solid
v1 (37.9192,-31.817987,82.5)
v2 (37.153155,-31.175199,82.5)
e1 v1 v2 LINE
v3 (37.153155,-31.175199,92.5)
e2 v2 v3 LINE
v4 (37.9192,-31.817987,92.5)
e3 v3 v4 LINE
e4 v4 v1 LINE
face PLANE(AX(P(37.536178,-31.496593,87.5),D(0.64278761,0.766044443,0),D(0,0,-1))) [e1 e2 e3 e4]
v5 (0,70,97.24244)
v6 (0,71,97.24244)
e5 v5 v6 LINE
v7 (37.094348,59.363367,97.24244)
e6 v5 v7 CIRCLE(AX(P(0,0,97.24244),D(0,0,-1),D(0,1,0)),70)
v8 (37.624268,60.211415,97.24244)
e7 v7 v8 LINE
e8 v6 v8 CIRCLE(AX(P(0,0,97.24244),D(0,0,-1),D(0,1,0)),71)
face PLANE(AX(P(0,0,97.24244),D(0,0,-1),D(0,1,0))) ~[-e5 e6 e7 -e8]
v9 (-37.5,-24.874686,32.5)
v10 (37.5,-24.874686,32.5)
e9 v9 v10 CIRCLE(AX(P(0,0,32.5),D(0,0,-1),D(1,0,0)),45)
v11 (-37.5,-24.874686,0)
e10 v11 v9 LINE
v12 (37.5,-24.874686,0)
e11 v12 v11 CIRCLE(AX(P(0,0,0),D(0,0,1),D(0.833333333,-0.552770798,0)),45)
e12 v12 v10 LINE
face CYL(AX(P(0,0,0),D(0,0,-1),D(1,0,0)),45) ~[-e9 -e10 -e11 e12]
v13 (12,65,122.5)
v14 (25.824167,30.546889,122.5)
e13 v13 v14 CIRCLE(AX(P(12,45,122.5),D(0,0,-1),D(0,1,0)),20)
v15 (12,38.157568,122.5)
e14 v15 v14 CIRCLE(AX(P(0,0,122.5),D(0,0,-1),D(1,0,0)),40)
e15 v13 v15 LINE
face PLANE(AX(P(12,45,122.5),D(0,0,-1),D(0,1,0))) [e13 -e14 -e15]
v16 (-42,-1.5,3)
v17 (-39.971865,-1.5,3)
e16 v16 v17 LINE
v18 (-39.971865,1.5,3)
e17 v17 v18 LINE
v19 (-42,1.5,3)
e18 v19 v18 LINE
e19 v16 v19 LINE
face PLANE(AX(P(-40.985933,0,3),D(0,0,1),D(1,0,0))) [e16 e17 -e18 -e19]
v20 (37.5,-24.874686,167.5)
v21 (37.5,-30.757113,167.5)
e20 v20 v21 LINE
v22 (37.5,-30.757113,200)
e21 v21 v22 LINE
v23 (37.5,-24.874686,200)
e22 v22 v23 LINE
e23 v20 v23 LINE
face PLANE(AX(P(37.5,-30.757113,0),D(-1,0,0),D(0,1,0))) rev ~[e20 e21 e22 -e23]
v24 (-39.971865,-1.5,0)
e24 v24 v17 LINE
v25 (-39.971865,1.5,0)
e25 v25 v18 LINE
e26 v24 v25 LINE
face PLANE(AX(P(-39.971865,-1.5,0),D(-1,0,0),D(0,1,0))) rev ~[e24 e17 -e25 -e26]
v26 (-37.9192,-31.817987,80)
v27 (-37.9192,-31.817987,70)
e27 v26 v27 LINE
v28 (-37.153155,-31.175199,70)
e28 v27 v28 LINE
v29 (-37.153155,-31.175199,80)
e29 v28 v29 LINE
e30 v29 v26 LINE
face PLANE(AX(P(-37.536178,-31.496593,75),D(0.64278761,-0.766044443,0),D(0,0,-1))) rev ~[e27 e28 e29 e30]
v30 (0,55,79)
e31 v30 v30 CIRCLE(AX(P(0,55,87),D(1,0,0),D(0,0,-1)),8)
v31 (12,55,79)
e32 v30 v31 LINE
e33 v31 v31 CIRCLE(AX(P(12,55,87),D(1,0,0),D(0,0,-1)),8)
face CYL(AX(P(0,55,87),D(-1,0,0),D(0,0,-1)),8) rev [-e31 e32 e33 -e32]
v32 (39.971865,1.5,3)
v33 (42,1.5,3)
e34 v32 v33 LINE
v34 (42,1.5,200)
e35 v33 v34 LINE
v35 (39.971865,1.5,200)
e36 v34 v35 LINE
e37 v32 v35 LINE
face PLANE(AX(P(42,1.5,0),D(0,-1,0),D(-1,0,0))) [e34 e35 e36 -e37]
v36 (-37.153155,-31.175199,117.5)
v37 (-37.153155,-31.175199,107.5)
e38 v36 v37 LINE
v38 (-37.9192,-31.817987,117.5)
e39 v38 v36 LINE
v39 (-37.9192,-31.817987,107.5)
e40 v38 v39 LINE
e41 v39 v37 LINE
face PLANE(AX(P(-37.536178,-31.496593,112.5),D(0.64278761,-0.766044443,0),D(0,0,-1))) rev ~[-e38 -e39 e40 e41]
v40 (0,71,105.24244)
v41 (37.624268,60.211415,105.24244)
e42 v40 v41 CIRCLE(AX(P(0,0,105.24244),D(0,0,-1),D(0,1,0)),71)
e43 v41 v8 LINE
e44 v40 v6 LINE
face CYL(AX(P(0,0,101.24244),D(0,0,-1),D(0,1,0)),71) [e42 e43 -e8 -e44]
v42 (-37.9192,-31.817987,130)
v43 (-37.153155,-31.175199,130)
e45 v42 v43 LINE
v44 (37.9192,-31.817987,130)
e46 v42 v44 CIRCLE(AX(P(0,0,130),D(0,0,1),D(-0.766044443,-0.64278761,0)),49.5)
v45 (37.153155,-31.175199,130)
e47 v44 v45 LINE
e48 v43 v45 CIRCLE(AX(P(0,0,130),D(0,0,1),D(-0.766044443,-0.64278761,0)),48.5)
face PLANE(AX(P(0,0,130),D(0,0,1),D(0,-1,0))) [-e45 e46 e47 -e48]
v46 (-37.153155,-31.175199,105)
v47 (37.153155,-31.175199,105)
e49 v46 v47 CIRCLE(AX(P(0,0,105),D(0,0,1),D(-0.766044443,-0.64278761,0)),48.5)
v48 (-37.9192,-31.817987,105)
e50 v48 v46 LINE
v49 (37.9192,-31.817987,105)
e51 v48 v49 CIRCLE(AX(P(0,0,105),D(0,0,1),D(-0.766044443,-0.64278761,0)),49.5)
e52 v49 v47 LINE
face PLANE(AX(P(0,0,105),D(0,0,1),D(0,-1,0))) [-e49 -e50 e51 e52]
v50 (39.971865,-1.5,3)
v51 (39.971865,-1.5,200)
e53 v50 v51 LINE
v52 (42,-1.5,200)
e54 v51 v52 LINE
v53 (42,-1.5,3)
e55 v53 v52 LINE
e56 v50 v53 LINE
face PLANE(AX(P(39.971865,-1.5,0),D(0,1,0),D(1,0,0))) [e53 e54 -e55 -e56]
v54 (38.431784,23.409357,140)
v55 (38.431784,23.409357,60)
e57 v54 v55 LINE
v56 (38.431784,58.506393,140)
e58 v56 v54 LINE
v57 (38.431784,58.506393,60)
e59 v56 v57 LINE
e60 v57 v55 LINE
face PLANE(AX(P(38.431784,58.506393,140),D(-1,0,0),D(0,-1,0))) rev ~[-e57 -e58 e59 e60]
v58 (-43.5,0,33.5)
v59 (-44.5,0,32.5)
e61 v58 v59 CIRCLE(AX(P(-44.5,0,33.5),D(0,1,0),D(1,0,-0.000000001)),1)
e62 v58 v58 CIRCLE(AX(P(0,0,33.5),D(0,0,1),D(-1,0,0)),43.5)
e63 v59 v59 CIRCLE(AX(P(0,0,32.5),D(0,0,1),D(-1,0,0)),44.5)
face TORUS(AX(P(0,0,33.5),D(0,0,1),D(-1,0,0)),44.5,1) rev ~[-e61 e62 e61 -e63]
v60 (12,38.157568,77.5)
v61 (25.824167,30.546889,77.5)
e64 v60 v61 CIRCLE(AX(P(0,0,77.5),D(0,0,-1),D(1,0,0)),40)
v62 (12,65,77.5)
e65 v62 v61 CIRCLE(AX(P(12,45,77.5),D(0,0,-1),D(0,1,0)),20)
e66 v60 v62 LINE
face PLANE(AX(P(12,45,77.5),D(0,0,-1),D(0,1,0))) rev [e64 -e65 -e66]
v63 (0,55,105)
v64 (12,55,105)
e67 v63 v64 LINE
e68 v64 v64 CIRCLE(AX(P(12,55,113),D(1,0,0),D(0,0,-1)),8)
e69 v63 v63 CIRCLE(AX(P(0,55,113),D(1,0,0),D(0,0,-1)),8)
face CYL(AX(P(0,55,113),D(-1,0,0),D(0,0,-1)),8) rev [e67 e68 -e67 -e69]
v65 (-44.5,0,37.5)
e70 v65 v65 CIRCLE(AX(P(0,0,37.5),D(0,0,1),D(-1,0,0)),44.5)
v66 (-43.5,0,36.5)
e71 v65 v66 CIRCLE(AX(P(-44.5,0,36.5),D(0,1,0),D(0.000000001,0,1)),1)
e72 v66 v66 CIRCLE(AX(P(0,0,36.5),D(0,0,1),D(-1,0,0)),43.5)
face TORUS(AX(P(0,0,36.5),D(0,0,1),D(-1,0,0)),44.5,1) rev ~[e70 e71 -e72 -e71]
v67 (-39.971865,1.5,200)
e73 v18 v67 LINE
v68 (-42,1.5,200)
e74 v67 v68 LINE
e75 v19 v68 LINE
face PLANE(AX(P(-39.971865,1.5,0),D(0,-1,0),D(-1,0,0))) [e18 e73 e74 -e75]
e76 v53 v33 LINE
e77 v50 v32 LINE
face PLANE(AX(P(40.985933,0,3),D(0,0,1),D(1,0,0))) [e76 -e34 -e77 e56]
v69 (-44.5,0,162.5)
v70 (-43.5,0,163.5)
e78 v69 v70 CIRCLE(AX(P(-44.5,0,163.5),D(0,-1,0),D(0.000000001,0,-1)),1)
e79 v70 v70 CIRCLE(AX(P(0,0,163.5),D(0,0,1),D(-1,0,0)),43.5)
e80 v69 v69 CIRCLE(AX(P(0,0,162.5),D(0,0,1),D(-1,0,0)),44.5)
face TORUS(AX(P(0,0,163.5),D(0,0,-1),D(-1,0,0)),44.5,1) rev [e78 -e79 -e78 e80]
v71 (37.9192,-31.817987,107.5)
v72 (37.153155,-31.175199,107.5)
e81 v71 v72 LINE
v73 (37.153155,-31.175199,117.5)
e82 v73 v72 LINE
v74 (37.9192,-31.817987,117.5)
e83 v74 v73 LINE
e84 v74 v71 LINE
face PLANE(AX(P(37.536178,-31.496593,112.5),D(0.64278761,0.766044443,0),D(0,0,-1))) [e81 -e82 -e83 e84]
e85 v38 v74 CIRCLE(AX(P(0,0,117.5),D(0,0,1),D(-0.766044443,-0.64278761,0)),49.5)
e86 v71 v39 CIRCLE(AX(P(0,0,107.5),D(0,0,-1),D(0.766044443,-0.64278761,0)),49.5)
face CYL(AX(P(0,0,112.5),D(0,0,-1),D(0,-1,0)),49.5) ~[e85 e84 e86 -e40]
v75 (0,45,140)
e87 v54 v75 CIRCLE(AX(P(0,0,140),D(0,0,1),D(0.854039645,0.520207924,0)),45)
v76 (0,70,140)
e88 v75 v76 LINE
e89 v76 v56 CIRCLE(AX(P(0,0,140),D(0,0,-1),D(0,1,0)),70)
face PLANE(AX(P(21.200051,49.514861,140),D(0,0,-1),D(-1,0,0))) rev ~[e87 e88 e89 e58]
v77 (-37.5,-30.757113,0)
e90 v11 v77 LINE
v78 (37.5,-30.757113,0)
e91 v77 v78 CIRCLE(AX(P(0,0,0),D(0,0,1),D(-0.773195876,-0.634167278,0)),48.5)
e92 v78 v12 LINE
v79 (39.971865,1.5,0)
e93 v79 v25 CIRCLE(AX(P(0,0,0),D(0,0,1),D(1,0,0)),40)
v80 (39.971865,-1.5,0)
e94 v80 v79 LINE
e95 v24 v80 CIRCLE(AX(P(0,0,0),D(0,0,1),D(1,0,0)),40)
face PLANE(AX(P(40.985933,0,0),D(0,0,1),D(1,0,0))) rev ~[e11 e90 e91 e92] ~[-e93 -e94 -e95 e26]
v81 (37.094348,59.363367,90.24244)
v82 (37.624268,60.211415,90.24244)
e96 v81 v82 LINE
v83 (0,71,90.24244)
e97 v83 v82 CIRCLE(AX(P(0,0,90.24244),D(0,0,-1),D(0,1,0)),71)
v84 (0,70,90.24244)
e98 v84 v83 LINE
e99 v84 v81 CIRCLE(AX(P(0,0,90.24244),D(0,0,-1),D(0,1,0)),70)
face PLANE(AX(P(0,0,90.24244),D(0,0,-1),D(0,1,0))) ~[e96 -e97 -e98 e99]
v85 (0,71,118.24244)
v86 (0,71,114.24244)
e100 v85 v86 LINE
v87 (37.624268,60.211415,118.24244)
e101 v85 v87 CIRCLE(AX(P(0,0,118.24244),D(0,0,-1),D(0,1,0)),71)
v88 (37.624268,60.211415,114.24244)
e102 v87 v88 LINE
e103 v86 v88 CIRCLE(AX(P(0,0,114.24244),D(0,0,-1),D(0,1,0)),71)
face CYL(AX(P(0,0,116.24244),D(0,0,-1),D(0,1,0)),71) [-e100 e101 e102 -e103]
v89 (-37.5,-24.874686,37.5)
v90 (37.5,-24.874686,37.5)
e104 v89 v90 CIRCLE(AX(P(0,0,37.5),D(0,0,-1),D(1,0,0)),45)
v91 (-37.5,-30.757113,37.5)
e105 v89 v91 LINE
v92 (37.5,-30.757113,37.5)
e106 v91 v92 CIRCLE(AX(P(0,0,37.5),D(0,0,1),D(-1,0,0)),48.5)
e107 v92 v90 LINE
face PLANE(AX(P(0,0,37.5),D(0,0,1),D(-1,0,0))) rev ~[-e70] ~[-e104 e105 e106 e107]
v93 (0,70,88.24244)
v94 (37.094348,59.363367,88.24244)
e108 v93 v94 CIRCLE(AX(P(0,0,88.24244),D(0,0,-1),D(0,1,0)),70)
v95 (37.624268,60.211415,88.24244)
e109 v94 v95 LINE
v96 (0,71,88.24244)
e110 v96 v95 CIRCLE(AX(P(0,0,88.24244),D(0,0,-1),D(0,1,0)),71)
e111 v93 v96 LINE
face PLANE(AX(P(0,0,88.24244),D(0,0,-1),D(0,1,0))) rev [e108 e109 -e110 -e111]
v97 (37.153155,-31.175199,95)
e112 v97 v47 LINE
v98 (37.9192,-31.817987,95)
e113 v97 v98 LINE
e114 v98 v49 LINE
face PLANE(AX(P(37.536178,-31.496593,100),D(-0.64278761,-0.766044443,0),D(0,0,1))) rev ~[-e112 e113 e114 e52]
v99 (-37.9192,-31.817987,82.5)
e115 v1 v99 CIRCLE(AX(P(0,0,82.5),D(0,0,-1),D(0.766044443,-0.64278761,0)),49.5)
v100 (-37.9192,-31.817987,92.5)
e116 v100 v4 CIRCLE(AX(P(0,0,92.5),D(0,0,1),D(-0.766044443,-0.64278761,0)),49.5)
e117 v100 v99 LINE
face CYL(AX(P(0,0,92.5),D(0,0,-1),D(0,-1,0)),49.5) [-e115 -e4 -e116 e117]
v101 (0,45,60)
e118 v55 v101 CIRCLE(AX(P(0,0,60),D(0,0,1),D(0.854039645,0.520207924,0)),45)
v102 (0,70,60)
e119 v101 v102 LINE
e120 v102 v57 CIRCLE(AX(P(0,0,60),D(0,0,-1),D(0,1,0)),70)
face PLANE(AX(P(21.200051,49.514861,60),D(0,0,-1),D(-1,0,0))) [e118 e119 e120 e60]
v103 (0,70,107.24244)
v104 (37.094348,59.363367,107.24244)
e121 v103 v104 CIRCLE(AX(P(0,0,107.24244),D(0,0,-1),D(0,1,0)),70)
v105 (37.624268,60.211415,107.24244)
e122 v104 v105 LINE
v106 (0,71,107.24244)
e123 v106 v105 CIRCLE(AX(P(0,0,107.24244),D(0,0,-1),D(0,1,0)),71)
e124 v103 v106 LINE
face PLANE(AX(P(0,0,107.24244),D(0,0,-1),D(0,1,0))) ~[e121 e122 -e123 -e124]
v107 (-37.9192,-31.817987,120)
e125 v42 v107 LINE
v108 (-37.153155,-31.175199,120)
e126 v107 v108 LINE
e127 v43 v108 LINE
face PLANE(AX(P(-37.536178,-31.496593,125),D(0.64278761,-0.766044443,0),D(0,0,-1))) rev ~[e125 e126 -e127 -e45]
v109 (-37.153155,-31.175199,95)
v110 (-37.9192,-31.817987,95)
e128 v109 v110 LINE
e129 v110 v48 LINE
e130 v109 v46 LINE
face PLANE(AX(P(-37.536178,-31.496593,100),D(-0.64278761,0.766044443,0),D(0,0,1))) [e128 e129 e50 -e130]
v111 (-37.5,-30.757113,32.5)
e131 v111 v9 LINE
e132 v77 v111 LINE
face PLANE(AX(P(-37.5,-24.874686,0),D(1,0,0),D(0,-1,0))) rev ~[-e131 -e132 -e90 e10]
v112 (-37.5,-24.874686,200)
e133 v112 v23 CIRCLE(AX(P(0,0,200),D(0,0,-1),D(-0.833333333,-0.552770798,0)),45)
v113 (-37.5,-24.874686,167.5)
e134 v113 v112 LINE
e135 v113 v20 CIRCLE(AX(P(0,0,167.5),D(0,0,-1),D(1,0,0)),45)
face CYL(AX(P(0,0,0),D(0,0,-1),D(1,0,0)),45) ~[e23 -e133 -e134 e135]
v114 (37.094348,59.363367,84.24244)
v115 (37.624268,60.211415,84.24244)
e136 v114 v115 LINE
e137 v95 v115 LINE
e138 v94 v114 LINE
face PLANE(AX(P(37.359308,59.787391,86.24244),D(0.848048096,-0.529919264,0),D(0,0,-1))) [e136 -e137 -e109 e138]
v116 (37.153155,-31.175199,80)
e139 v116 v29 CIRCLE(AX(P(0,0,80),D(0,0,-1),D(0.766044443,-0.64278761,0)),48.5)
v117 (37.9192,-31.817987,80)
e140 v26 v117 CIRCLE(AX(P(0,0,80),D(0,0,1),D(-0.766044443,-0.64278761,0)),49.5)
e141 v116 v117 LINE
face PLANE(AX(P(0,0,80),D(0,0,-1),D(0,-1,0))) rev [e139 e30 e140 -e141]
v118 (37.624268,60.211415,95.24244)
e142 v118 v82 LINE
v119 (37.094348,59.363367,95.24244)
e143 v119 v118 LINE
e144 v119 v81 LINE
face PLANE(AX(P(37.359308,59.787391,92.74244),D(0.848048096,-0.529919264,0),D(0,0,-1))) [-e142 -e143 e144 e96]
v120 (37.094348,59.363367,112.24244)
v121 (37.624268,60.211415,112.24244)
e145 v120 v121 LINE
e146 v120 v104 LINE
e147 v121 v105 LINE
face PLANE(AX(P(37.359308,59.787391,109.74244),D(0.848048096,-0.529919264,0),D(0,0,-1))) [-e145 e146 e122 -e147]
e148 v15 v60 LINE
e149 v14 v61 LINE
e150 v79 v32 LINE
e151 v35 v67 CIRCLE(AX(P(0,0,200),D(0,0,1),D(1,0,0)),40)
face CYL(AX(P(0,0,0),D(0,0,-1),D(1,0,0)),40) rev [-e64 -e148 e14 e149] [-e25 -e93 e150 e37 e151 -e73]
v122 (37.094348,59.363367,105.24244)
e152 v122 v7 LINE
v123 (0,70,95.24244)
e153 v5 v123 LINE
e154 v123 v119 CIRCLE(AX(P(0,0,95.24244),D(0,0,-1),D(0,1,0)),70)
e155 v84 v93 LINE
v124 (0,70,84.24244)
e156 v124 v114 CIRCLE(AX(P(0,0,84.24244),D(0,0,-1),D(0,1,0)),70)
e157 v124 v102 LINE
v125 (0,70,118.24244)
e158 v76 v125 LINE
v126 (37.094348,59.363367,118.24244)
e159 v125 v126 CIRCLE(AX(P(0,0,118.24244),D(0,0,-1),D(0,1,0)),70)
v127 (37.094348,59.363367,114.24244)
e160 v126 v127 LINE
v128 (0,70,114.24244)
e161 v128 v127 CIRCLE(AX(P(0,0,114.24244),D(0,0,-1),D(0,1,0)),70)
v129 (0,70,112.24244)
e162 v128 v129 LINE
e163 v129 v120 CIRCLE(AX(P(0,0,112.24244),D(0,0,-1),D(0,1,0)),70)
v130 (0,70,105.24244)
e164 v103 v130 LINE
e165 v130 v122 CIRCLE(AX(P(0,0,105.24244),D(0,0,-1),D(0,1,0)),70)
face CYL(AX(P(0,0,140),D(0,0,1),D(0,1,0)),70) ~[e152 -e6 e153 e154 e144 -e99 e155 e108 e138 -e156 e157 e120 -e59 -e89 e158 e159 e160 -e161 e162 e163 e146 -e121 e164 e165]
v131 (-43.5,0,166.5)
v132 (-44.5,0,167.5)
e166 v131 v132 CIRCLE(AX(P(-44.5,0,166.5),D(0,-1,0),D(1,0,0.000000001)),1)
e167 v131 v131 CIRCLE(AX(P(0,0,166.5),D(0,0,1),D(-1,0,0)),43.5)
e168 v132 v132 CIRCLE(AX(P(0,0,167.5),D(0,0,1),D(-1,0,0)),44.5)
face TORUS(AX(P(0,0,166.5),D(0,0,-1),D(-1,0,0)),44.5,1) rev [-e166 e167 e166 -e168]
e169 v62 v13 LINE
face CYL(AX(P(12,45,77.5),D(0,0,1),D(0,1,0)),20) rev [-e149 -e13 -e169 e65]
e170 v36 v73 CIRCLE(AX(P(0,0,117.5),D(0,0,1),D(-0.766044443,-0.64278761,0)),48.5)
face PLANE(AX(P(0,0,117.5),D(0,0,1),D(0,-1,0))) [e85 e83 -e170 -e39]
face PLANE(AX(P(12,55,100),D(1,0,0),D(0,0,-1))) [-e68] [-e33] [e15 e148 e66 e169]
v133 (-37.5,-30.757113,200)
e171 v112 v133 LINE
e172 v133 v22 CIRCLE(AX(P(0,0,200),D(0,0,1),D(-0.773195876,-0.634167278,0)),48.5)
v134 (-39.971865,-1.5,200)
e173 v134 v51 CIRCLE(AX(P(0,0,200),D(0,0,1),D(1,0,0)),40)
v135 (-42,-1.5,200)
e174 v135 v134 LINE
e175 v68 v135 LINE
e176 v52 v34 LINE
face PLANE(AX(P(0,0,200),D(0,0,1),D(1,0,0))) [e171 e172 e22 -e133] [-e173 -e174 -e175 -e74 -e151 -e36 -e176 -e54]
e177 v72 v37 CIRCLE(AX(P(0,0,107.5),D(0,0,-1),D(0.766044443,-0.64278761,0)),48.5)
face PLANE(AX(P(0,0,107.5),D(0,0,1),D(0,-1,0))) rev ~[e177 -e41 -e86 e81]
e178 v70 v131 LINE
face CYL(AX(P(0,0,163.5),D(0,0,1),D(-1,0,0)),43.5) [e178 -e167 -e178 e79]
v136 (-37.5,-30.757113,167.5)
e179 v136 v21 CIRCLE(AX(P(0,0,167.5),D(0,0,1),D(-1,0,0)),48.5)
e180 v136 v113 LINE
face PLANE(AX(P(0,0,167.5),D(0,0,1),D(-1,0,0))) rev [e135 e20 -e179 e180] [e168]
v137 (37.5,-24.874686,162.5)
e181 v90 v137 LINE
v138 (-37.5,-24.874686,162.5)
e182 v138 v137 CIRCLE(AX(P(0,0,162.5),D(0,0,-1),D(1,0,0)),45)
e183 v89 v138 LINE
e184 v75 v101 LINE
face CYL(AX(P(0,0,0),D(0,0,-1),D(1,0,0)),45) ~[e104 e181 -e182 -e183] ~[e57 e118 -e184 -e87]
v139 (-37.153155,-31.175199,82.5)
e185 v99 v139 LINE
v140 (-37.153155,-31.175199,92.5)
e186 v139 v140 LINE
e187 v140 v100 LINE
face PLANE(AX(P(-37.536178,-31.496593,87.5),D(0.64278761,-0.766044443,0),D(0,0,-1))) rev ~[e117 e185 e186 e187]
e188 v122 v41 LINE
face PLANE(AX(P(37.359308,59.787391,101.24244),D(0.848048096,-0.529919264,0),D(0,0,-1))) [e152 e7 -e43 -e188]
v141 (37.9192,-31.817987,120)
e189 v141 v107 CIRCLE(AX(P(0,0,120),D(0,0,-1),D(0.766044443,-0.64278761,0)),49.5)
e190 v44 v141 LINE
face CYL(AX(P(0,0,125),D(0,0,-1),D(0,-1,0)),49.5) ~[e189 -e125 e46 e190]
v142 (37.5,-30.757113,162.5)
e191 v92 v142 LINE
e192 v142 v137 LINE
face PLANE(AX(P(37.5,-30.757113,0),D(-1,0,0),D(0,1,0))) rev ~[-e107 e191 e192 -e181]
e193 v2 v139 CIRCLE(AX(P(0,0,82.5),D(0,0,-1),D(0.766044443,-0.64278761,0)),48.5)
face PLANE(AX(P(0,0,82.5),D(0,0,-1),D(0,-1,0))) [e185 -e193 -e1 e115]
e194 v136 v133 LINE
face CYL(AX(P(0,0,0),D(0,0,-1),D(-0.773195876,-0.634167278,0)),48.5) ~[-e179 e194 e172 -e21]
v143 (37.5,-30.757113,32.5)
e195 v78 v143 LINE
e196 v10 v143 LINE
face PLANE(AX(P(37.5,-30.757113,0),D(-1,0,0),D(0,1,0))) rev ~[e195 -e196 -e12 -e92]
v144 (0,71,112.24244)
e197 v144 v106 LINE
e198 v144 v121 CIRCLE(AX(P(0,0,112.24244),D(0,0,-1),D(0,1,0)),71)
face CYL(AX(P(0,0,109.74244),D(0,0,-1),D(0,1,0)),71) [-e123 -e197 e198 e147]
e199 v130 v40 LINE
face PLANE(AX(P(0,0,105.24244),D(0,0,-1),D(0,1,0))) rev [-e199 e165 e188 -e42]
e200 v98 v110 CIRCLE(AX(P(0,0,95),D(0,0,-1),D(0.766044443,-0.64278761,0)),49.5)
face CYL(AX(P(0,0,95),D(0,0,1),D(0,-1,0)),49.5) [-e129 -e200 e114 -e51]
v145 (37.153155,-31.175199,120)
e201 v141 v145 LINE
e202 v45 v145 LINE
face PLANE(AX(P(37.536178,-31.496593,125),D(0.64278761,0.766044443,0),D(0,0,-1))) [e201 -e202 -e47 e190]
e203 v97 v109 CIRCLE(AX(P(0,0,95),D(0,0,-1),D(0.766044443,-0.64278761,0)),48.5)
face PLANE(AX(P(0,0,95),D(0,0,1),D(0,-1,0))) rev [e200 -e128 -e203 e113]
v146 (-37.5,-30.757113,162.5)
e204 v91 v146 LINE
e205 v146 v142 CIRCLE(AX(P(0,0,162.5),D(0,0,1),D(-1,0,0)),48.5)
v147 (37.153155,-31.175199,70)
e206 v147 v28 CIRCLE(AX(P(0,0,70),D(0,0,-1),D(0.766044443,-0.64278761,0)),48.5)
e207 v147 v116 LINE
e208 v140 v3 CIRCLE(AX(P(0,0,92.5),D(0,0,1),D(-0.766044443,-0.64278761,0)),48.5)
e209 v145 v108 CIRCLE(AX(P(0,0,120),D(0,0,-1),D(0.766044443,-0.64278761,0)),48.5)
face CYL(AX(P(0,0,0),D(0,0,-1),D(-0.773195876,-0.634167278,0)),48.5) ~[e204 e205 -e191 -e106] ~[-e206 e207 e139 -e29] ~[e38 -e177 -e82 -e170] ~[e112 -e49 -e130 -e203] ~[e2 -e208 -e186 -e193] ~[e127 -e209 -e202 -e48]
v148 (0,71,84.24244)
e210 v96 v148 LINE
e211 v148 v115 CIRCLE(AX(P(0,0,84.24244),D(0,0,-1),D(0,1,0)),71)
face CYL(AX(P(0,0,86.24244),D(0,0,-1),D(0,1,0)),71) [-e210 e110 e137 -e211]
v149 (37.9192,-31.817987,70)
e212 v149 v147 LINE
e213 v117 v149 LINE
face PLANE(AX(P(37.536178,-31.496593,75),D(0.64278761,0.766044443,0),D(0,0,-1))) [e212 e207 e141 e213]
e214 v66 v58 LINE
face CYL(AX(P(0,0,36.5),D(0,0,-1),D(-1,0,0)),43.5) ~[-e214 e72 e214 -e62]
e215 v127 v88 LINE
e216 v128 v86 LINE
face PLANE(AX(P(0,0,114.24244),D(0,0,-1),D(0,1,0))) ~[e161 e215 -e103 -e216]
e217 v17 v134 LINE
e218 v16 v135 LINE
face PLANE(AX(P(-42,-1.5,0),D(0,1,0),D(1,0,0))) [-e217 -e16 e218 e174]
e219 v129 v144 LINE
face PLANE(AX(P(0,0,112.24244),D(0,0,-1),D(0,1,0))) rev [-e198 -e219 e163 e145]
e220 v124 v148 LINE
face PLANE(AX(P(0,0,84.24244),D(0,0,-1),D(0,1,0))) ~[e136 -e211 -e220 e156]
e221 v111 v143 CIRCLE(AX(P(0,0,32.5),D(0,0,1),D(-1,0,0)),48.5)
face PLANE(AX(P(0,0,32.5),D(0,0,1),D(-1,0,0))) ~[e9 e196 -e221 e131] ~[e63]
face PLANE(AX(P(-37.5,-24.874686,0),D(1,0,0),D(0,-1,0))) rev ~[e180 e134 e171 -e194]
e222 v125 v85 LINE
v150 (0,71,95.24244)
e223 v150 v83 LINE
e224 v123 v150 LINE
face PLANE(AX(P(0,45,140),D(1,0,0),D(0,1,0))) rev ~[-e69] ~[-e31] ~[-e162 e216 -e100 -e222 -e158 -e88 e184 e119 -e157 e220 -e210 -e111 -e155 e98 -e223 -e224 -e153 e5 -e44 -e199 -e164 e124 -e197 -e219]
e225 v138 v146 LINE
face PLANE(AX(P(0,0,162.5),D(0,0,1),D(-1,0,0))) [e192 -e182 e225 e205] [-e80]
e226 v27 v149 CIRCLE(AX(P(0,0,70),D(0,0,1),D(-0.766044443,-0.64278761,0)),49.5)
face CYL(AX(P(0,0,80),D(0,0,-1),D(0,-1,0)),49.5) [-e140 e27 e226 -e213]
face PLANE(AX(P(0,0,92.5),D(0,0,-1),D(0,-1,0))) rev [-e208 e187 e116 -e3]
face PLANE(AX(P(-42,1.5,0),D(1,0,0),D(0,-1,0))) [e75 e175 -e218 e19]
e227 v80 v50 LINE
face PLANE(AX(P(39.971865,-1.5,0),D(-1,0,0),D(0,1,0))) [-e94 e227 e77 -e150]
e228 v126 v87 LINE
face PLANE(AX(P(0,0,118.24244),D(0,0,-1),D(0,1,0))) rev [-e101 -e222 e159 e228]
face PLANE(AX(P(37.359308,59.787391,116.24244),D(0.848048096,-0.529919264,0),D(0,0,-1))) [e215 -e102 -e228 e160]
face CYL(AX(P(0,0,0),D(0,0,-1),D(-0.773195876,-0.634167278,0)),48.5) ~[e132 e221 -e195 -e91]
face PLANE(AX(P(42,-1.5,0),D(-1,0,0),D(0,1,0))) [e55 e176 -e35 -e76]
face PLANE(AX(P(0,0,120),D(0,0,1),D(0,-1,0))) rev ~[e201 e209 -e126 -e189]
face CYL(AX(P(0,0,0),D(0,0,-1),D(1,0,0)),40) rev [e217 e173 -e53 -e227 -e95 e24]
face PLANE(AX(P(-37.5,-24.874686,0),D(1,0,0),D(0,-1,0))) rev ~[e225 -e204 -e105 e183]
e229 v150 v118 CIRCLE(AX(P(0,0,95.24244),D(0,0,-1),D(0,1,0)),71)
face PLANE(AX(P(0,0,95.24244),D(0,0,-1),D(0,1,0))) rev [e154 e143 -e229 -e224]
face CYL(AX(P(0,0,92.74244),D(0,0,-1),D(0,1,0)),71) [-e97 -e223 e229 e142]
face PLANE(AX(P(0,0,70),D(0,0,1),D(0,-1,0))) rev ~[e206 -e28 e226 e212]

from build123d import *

# Parameters (mm, degrees)
ESBO_O1_R                     = 45
RESSALTO_EXTRUS_O1_DEPTH      = 200
ESBO_O2_R                     = 40
CORTE_EXTRUS_O2_DEPTH         = 200
RESSALTO_EXTRUS_O2_DEPTH      = 200
ESBO_O6_W                     = 10
ESBO_O6_H                     = 1
REVOLU_O1_ANGLE               = 50
REVOLU_O1_OTHER_WAY_ANGLE     = 50
RESSALTO_EXTRUS_O6_DEPTH      = 40
RESSALTO_EXTRUS_O6_DEPTH_BACK = 40
CORTE_EXTRUS_O3_DEPTH         = 12
CORTE_REVOLU_O5_ANGLE         = 180
ESBO_O20_W                    = 4
ESBO_O20_H                    = 1
ESBO_O20_W_2                  = 5
ESBO_O20_W_3                  = 8
REVOLU_O3_ANGLE               = 32
ESBO_O21_W                    = 2.028134895
ESBO_O21_H                    = 3
RESSALTO_EXTRUS_O8_DEPTH      = 3


with BuildPart() as part:
    # Esboço1 → Ressalto-extrusão1 (new body)
    with BuildSketch(Plane.XY):
        Circle(ESBO_O1_R)
    extrude(amount=RESSALTO_EXTRUS_O1_DEPTH)

    # Esboço2 → Corte-extrusão2 (cut)
    with BuildSketch(Plane.XY):
        Circle(ESBO_O2_R)
        Polygon((0, -1.5), (42, -1.5), (42, 1.5), (-42, 1.5), (-42, -1.5), align=None)
    extrude(amount=CORTE_EXTRUS_O2_DEPTH, mode=Mode.SUBTRACT)

    # Esboço4 → Ressalto-extrusão2 (add)
    with BuildSketch(Plane.XY):
        with BuildLine():
            Line((-37.5, -24.874685928), (-37.5, -30.757112998))
            ThreePointArc((-37.5, -30.757112998), (0, -48.5), (37.5, -30.757112998))
            Line((37.5, -30.757112998), (37.5, -24.874685928))
            ThreePointArc((37.5, -24.874685928), (36.193272903, -26.740362685), (34.793814433, -28.537527524))
            ThreePointArc((34.793814433, -28.537527524), (0, -45), (-34.793814433, -28.537527524))
            ThreePointArc((-34.793814433, -28.537527524), (-36.193272903, -26.740362685), (-37.5, -24.874685928))
        make_face()
    extrude(amount=RESSALTO_EXTRUS_O2_DEPTH)

    # Esboço6 → Revolução1 (revolve)
    with BuildSketch(Plane(origin=(0, 0, 0), x_dir=(0, 0, -1), z_dir=(1, 0, 0))):
        Polygon((-75, -48.5), (-80, -48.5), (-80, -49.5), (-70, -49.5), (-70, -48.5), align=None)
        Polygon((-105, -49.5), (-105, -48.5), (-100, -48.5), (-95, -48.5), (-95, -49.5), align=None)
        with Locations((-125, -49)):
            Rectangle(ESBO_O6_W, ESBO_O6_H)
        Polygon((-92.5, -49.5), (-82.5, -49.5), (-82.5, -48.5), (-87.5, -48.5), (-92.5, -48.5), align=None)
        with Locations((-112.5, -49)):
            Rectangle(ESBO_O6_W, ESBO_O6_H)
    revolve(axis=Axis((0, 0, 0), (0, 0, 1)), revolution_arc=REVOLU_O1_ANGLE)

    # Esboço6 → Revolução1 other way (revolve)
    with BuildSketch(Plane(origin=(0, 0, 0), x_dir=(0, 0, -1), z_dir=(1, 0, 0))):
        Polygon((-75, -48.5), (-80, -48.5), (-80, -49.5), (-70, -49.5), (-70, -48.5), align=None)
        Polygon((-105, -49.5), (-105, -48.5), (-100, -48.5), (-95, -48.5), (-95, -49.5), align=None)
        with Locations((-125, -49)):
            Rectangle(ESBO_O6_W, ESBO_O6_H)
        Polygon((-92.5, -49.5), (-82.5, -49.5), (-82.5, -48.5), (-87.5, -48.5), (-92.5, -48.5), align=None)
        with Locations((-112.5, -49)):
            Rectangle(ESBO_O6_W, ESBO_O6_H)
    revolve(axis=Axis((0, 0, 0), (0, 0, -1)), revolution_arc=REVOLU_O1_OTHER_WAY_ANGLE)

    # Esboço7 → Corte-Revolução3 (revolve, cut)
    with BuildSketch(Plane(origin=(0, 0, 0), x_dir=(0, 0, -1), z_dir=(1, 0, 0)), mode=Mode.PRIVATE) as corte_revolu_o3_sk:
        with BuildLine():
            Line((-165, -48.5), (-162.5, -48.5))
            Line((-162.5, -48.5), (-162.5, -47.198708602))
            Line((-162.5, -47.198708602), (-162.5, -44.5))
            ThreePointArc((-162.5, -44.5), (-162.792893219, -43.792893219), (-163.5, -43.5))
            Line((-163.5, -43.5), (-166.5, -43.5))
            ThreePointArc((-166.5, -43.5), (-167.207106781, -43.792893219), (-167.5, -44.5))
            Line((-167.5, -44.5), (-167.5, -48.5))
            Line((-167.5, -48.5), (-165, -48.5))
        make_face()
        with BuildLine():
            Line((-37.5, -48.5), (-37.5, -44.5))
            ThreePointArc((-37.5, -44.5), (-37.207106781, -43.792893219), (-36.5, -43.5))
            Line((-36.5, -43.5), (-33.5, -43.5))
            ThreePointArc((-33.5, -43.5), (-32.792893219, -43.792893219), (-32.5, -44.5))
            Line((-32.5, -44.5), (-32.5, -47.198708602))
            Line((-32.5, -47.198708602), (-32.5, -48.5))
            Line((-32.5, -48.5), (-37.5, -48.5))
        make_face()
    revolve(corte_revolu_o3_sk.sketch.rotate(Axis((0, 0, 0), (0, 0, 1)), 270), axis=Axis((0, 0, 0), (0, 0, 1)), mode=Mode.SUBTRACT)

    # Esboço17 → Ressalto-extrusão6 (add, two sides: drawn at the far end of the back side and taken through both)
    with BuildSketch(Plane(origin=(0, 0, 100), x_dir=(-1, 0, 0), z_dir=(0, 0, -1)).offset(-RESSALTO_EXTRUS_O6_DEPTH_BACK)):
        with BuildLine():
            Line((0, 45), (0, 70))
            ThreePointArc((0, 70), (-20.056825735, 67.065070949), (-38.431784027, 58.506392612))
            Line((-38.431784027, 58.506392612), (-38.431784027, 23.409356601))
            ThreePointArc((-38.431784027, 23.409356601), (-22.040632397, 39.23277359), (0, 45))
        make_face()
    extrude(amount=RESSALTO_EXTRUS_O6_DEPTH + RESSALTO_EXTRUS_O6_DEPTH_BACK)

    # Esboço18 → Corte-extrusão3 (cut)
    with BuildSketch(Plane(origin=(0, 0, 0), x_dir=(0, 0, -1), z_dir=(1, 0, 0))):
        with BuildLine():
            ThreePointArc((-95, 55), (-87, 47), (-79, 55))
            Line((-79, 55), (-95, 55))
        make_face()
        with BuildLine():
            Line((-95, 55), (-79, 55))
            ThreePointArc((-79, 55), (-87, 63), (-95, 55))
        make_face()
        with BuildLine():
            ThreePointArc((-121, 55), (-113, 47), (-105, 55))
            Line((-105, 55), (-121, 55))
        make_face()
        with BuildLine():
            Line((-121, 55), (-105, 55))
            ThreePointArc((-105, 55), (-113, 63), (-121, 55))
        make_face()
    extrude(amount=CORTE_EXTRUS_O3_DEPTH, mode=Mode.SUBTRACT)

    # Esboço19 → Corte-Revolução5 (revolve, cut)
    with BuildSketch(Plane.ZY.offset(-12)):
        Polygon((100, 45), (77.5, 45), (77.5, 65), (122.5, 65), (122.5, 45), align=None)
    revolve(axis=Axis((12, 45, 100), (0, 0, -1)), revolution_arc=CORTE_REVOLU_O5_ANGLE, mode=Mode.SUBTRACT)

    # Esboço20 → Revolução3 (revolve)
    with BuildSketch(Plane(origin=(0, 0, 0), x_dir=(0, 0, -1), z_dir=(1, 0, 0))):
        with Locations((-86.242439745, 70.5)):
            Rectangle(ESBO_O20_W, ESBO_O20_H)
        with Locations((-92.742439745, 70.5)):
            Rectangle(ESBO_O20_W_2, ESBO_O20_H)
        with Locations((-101.242439745, 70.5)):
            Rectangle(ESBO_O20_W_3, ESBO_O20_H)
        with Locations((-109.742439745, 70.5)):
            Rectangle(ESBO_O20_W_2, ESBO_O20_H)
        with Locations((-116.242439745, 70.5)):
            Rectangle(ESBO_O20_W, ESBO_O20_H)
    revolve(axis=Axis((0, 0, 0), (0, 0, -1)), revolution_arc=REVOLU_O3_ANGLE)

    # Esboço21 → Ressalto-extrusão8 (add)
    with BuildSketch(Plane.XY):
        with Locations((40.985932553, 0)):
            Rectangle(ESBO_O21_W, ESBO_O21_H)
        with Locations((-40.985932553, 0)):
            Rectangle(ESBO_O21_W, ESBO_O21_H)
    extrude(amount=RESSALTO_EXTRUS_O8_DEPTH)


solid = part.part
